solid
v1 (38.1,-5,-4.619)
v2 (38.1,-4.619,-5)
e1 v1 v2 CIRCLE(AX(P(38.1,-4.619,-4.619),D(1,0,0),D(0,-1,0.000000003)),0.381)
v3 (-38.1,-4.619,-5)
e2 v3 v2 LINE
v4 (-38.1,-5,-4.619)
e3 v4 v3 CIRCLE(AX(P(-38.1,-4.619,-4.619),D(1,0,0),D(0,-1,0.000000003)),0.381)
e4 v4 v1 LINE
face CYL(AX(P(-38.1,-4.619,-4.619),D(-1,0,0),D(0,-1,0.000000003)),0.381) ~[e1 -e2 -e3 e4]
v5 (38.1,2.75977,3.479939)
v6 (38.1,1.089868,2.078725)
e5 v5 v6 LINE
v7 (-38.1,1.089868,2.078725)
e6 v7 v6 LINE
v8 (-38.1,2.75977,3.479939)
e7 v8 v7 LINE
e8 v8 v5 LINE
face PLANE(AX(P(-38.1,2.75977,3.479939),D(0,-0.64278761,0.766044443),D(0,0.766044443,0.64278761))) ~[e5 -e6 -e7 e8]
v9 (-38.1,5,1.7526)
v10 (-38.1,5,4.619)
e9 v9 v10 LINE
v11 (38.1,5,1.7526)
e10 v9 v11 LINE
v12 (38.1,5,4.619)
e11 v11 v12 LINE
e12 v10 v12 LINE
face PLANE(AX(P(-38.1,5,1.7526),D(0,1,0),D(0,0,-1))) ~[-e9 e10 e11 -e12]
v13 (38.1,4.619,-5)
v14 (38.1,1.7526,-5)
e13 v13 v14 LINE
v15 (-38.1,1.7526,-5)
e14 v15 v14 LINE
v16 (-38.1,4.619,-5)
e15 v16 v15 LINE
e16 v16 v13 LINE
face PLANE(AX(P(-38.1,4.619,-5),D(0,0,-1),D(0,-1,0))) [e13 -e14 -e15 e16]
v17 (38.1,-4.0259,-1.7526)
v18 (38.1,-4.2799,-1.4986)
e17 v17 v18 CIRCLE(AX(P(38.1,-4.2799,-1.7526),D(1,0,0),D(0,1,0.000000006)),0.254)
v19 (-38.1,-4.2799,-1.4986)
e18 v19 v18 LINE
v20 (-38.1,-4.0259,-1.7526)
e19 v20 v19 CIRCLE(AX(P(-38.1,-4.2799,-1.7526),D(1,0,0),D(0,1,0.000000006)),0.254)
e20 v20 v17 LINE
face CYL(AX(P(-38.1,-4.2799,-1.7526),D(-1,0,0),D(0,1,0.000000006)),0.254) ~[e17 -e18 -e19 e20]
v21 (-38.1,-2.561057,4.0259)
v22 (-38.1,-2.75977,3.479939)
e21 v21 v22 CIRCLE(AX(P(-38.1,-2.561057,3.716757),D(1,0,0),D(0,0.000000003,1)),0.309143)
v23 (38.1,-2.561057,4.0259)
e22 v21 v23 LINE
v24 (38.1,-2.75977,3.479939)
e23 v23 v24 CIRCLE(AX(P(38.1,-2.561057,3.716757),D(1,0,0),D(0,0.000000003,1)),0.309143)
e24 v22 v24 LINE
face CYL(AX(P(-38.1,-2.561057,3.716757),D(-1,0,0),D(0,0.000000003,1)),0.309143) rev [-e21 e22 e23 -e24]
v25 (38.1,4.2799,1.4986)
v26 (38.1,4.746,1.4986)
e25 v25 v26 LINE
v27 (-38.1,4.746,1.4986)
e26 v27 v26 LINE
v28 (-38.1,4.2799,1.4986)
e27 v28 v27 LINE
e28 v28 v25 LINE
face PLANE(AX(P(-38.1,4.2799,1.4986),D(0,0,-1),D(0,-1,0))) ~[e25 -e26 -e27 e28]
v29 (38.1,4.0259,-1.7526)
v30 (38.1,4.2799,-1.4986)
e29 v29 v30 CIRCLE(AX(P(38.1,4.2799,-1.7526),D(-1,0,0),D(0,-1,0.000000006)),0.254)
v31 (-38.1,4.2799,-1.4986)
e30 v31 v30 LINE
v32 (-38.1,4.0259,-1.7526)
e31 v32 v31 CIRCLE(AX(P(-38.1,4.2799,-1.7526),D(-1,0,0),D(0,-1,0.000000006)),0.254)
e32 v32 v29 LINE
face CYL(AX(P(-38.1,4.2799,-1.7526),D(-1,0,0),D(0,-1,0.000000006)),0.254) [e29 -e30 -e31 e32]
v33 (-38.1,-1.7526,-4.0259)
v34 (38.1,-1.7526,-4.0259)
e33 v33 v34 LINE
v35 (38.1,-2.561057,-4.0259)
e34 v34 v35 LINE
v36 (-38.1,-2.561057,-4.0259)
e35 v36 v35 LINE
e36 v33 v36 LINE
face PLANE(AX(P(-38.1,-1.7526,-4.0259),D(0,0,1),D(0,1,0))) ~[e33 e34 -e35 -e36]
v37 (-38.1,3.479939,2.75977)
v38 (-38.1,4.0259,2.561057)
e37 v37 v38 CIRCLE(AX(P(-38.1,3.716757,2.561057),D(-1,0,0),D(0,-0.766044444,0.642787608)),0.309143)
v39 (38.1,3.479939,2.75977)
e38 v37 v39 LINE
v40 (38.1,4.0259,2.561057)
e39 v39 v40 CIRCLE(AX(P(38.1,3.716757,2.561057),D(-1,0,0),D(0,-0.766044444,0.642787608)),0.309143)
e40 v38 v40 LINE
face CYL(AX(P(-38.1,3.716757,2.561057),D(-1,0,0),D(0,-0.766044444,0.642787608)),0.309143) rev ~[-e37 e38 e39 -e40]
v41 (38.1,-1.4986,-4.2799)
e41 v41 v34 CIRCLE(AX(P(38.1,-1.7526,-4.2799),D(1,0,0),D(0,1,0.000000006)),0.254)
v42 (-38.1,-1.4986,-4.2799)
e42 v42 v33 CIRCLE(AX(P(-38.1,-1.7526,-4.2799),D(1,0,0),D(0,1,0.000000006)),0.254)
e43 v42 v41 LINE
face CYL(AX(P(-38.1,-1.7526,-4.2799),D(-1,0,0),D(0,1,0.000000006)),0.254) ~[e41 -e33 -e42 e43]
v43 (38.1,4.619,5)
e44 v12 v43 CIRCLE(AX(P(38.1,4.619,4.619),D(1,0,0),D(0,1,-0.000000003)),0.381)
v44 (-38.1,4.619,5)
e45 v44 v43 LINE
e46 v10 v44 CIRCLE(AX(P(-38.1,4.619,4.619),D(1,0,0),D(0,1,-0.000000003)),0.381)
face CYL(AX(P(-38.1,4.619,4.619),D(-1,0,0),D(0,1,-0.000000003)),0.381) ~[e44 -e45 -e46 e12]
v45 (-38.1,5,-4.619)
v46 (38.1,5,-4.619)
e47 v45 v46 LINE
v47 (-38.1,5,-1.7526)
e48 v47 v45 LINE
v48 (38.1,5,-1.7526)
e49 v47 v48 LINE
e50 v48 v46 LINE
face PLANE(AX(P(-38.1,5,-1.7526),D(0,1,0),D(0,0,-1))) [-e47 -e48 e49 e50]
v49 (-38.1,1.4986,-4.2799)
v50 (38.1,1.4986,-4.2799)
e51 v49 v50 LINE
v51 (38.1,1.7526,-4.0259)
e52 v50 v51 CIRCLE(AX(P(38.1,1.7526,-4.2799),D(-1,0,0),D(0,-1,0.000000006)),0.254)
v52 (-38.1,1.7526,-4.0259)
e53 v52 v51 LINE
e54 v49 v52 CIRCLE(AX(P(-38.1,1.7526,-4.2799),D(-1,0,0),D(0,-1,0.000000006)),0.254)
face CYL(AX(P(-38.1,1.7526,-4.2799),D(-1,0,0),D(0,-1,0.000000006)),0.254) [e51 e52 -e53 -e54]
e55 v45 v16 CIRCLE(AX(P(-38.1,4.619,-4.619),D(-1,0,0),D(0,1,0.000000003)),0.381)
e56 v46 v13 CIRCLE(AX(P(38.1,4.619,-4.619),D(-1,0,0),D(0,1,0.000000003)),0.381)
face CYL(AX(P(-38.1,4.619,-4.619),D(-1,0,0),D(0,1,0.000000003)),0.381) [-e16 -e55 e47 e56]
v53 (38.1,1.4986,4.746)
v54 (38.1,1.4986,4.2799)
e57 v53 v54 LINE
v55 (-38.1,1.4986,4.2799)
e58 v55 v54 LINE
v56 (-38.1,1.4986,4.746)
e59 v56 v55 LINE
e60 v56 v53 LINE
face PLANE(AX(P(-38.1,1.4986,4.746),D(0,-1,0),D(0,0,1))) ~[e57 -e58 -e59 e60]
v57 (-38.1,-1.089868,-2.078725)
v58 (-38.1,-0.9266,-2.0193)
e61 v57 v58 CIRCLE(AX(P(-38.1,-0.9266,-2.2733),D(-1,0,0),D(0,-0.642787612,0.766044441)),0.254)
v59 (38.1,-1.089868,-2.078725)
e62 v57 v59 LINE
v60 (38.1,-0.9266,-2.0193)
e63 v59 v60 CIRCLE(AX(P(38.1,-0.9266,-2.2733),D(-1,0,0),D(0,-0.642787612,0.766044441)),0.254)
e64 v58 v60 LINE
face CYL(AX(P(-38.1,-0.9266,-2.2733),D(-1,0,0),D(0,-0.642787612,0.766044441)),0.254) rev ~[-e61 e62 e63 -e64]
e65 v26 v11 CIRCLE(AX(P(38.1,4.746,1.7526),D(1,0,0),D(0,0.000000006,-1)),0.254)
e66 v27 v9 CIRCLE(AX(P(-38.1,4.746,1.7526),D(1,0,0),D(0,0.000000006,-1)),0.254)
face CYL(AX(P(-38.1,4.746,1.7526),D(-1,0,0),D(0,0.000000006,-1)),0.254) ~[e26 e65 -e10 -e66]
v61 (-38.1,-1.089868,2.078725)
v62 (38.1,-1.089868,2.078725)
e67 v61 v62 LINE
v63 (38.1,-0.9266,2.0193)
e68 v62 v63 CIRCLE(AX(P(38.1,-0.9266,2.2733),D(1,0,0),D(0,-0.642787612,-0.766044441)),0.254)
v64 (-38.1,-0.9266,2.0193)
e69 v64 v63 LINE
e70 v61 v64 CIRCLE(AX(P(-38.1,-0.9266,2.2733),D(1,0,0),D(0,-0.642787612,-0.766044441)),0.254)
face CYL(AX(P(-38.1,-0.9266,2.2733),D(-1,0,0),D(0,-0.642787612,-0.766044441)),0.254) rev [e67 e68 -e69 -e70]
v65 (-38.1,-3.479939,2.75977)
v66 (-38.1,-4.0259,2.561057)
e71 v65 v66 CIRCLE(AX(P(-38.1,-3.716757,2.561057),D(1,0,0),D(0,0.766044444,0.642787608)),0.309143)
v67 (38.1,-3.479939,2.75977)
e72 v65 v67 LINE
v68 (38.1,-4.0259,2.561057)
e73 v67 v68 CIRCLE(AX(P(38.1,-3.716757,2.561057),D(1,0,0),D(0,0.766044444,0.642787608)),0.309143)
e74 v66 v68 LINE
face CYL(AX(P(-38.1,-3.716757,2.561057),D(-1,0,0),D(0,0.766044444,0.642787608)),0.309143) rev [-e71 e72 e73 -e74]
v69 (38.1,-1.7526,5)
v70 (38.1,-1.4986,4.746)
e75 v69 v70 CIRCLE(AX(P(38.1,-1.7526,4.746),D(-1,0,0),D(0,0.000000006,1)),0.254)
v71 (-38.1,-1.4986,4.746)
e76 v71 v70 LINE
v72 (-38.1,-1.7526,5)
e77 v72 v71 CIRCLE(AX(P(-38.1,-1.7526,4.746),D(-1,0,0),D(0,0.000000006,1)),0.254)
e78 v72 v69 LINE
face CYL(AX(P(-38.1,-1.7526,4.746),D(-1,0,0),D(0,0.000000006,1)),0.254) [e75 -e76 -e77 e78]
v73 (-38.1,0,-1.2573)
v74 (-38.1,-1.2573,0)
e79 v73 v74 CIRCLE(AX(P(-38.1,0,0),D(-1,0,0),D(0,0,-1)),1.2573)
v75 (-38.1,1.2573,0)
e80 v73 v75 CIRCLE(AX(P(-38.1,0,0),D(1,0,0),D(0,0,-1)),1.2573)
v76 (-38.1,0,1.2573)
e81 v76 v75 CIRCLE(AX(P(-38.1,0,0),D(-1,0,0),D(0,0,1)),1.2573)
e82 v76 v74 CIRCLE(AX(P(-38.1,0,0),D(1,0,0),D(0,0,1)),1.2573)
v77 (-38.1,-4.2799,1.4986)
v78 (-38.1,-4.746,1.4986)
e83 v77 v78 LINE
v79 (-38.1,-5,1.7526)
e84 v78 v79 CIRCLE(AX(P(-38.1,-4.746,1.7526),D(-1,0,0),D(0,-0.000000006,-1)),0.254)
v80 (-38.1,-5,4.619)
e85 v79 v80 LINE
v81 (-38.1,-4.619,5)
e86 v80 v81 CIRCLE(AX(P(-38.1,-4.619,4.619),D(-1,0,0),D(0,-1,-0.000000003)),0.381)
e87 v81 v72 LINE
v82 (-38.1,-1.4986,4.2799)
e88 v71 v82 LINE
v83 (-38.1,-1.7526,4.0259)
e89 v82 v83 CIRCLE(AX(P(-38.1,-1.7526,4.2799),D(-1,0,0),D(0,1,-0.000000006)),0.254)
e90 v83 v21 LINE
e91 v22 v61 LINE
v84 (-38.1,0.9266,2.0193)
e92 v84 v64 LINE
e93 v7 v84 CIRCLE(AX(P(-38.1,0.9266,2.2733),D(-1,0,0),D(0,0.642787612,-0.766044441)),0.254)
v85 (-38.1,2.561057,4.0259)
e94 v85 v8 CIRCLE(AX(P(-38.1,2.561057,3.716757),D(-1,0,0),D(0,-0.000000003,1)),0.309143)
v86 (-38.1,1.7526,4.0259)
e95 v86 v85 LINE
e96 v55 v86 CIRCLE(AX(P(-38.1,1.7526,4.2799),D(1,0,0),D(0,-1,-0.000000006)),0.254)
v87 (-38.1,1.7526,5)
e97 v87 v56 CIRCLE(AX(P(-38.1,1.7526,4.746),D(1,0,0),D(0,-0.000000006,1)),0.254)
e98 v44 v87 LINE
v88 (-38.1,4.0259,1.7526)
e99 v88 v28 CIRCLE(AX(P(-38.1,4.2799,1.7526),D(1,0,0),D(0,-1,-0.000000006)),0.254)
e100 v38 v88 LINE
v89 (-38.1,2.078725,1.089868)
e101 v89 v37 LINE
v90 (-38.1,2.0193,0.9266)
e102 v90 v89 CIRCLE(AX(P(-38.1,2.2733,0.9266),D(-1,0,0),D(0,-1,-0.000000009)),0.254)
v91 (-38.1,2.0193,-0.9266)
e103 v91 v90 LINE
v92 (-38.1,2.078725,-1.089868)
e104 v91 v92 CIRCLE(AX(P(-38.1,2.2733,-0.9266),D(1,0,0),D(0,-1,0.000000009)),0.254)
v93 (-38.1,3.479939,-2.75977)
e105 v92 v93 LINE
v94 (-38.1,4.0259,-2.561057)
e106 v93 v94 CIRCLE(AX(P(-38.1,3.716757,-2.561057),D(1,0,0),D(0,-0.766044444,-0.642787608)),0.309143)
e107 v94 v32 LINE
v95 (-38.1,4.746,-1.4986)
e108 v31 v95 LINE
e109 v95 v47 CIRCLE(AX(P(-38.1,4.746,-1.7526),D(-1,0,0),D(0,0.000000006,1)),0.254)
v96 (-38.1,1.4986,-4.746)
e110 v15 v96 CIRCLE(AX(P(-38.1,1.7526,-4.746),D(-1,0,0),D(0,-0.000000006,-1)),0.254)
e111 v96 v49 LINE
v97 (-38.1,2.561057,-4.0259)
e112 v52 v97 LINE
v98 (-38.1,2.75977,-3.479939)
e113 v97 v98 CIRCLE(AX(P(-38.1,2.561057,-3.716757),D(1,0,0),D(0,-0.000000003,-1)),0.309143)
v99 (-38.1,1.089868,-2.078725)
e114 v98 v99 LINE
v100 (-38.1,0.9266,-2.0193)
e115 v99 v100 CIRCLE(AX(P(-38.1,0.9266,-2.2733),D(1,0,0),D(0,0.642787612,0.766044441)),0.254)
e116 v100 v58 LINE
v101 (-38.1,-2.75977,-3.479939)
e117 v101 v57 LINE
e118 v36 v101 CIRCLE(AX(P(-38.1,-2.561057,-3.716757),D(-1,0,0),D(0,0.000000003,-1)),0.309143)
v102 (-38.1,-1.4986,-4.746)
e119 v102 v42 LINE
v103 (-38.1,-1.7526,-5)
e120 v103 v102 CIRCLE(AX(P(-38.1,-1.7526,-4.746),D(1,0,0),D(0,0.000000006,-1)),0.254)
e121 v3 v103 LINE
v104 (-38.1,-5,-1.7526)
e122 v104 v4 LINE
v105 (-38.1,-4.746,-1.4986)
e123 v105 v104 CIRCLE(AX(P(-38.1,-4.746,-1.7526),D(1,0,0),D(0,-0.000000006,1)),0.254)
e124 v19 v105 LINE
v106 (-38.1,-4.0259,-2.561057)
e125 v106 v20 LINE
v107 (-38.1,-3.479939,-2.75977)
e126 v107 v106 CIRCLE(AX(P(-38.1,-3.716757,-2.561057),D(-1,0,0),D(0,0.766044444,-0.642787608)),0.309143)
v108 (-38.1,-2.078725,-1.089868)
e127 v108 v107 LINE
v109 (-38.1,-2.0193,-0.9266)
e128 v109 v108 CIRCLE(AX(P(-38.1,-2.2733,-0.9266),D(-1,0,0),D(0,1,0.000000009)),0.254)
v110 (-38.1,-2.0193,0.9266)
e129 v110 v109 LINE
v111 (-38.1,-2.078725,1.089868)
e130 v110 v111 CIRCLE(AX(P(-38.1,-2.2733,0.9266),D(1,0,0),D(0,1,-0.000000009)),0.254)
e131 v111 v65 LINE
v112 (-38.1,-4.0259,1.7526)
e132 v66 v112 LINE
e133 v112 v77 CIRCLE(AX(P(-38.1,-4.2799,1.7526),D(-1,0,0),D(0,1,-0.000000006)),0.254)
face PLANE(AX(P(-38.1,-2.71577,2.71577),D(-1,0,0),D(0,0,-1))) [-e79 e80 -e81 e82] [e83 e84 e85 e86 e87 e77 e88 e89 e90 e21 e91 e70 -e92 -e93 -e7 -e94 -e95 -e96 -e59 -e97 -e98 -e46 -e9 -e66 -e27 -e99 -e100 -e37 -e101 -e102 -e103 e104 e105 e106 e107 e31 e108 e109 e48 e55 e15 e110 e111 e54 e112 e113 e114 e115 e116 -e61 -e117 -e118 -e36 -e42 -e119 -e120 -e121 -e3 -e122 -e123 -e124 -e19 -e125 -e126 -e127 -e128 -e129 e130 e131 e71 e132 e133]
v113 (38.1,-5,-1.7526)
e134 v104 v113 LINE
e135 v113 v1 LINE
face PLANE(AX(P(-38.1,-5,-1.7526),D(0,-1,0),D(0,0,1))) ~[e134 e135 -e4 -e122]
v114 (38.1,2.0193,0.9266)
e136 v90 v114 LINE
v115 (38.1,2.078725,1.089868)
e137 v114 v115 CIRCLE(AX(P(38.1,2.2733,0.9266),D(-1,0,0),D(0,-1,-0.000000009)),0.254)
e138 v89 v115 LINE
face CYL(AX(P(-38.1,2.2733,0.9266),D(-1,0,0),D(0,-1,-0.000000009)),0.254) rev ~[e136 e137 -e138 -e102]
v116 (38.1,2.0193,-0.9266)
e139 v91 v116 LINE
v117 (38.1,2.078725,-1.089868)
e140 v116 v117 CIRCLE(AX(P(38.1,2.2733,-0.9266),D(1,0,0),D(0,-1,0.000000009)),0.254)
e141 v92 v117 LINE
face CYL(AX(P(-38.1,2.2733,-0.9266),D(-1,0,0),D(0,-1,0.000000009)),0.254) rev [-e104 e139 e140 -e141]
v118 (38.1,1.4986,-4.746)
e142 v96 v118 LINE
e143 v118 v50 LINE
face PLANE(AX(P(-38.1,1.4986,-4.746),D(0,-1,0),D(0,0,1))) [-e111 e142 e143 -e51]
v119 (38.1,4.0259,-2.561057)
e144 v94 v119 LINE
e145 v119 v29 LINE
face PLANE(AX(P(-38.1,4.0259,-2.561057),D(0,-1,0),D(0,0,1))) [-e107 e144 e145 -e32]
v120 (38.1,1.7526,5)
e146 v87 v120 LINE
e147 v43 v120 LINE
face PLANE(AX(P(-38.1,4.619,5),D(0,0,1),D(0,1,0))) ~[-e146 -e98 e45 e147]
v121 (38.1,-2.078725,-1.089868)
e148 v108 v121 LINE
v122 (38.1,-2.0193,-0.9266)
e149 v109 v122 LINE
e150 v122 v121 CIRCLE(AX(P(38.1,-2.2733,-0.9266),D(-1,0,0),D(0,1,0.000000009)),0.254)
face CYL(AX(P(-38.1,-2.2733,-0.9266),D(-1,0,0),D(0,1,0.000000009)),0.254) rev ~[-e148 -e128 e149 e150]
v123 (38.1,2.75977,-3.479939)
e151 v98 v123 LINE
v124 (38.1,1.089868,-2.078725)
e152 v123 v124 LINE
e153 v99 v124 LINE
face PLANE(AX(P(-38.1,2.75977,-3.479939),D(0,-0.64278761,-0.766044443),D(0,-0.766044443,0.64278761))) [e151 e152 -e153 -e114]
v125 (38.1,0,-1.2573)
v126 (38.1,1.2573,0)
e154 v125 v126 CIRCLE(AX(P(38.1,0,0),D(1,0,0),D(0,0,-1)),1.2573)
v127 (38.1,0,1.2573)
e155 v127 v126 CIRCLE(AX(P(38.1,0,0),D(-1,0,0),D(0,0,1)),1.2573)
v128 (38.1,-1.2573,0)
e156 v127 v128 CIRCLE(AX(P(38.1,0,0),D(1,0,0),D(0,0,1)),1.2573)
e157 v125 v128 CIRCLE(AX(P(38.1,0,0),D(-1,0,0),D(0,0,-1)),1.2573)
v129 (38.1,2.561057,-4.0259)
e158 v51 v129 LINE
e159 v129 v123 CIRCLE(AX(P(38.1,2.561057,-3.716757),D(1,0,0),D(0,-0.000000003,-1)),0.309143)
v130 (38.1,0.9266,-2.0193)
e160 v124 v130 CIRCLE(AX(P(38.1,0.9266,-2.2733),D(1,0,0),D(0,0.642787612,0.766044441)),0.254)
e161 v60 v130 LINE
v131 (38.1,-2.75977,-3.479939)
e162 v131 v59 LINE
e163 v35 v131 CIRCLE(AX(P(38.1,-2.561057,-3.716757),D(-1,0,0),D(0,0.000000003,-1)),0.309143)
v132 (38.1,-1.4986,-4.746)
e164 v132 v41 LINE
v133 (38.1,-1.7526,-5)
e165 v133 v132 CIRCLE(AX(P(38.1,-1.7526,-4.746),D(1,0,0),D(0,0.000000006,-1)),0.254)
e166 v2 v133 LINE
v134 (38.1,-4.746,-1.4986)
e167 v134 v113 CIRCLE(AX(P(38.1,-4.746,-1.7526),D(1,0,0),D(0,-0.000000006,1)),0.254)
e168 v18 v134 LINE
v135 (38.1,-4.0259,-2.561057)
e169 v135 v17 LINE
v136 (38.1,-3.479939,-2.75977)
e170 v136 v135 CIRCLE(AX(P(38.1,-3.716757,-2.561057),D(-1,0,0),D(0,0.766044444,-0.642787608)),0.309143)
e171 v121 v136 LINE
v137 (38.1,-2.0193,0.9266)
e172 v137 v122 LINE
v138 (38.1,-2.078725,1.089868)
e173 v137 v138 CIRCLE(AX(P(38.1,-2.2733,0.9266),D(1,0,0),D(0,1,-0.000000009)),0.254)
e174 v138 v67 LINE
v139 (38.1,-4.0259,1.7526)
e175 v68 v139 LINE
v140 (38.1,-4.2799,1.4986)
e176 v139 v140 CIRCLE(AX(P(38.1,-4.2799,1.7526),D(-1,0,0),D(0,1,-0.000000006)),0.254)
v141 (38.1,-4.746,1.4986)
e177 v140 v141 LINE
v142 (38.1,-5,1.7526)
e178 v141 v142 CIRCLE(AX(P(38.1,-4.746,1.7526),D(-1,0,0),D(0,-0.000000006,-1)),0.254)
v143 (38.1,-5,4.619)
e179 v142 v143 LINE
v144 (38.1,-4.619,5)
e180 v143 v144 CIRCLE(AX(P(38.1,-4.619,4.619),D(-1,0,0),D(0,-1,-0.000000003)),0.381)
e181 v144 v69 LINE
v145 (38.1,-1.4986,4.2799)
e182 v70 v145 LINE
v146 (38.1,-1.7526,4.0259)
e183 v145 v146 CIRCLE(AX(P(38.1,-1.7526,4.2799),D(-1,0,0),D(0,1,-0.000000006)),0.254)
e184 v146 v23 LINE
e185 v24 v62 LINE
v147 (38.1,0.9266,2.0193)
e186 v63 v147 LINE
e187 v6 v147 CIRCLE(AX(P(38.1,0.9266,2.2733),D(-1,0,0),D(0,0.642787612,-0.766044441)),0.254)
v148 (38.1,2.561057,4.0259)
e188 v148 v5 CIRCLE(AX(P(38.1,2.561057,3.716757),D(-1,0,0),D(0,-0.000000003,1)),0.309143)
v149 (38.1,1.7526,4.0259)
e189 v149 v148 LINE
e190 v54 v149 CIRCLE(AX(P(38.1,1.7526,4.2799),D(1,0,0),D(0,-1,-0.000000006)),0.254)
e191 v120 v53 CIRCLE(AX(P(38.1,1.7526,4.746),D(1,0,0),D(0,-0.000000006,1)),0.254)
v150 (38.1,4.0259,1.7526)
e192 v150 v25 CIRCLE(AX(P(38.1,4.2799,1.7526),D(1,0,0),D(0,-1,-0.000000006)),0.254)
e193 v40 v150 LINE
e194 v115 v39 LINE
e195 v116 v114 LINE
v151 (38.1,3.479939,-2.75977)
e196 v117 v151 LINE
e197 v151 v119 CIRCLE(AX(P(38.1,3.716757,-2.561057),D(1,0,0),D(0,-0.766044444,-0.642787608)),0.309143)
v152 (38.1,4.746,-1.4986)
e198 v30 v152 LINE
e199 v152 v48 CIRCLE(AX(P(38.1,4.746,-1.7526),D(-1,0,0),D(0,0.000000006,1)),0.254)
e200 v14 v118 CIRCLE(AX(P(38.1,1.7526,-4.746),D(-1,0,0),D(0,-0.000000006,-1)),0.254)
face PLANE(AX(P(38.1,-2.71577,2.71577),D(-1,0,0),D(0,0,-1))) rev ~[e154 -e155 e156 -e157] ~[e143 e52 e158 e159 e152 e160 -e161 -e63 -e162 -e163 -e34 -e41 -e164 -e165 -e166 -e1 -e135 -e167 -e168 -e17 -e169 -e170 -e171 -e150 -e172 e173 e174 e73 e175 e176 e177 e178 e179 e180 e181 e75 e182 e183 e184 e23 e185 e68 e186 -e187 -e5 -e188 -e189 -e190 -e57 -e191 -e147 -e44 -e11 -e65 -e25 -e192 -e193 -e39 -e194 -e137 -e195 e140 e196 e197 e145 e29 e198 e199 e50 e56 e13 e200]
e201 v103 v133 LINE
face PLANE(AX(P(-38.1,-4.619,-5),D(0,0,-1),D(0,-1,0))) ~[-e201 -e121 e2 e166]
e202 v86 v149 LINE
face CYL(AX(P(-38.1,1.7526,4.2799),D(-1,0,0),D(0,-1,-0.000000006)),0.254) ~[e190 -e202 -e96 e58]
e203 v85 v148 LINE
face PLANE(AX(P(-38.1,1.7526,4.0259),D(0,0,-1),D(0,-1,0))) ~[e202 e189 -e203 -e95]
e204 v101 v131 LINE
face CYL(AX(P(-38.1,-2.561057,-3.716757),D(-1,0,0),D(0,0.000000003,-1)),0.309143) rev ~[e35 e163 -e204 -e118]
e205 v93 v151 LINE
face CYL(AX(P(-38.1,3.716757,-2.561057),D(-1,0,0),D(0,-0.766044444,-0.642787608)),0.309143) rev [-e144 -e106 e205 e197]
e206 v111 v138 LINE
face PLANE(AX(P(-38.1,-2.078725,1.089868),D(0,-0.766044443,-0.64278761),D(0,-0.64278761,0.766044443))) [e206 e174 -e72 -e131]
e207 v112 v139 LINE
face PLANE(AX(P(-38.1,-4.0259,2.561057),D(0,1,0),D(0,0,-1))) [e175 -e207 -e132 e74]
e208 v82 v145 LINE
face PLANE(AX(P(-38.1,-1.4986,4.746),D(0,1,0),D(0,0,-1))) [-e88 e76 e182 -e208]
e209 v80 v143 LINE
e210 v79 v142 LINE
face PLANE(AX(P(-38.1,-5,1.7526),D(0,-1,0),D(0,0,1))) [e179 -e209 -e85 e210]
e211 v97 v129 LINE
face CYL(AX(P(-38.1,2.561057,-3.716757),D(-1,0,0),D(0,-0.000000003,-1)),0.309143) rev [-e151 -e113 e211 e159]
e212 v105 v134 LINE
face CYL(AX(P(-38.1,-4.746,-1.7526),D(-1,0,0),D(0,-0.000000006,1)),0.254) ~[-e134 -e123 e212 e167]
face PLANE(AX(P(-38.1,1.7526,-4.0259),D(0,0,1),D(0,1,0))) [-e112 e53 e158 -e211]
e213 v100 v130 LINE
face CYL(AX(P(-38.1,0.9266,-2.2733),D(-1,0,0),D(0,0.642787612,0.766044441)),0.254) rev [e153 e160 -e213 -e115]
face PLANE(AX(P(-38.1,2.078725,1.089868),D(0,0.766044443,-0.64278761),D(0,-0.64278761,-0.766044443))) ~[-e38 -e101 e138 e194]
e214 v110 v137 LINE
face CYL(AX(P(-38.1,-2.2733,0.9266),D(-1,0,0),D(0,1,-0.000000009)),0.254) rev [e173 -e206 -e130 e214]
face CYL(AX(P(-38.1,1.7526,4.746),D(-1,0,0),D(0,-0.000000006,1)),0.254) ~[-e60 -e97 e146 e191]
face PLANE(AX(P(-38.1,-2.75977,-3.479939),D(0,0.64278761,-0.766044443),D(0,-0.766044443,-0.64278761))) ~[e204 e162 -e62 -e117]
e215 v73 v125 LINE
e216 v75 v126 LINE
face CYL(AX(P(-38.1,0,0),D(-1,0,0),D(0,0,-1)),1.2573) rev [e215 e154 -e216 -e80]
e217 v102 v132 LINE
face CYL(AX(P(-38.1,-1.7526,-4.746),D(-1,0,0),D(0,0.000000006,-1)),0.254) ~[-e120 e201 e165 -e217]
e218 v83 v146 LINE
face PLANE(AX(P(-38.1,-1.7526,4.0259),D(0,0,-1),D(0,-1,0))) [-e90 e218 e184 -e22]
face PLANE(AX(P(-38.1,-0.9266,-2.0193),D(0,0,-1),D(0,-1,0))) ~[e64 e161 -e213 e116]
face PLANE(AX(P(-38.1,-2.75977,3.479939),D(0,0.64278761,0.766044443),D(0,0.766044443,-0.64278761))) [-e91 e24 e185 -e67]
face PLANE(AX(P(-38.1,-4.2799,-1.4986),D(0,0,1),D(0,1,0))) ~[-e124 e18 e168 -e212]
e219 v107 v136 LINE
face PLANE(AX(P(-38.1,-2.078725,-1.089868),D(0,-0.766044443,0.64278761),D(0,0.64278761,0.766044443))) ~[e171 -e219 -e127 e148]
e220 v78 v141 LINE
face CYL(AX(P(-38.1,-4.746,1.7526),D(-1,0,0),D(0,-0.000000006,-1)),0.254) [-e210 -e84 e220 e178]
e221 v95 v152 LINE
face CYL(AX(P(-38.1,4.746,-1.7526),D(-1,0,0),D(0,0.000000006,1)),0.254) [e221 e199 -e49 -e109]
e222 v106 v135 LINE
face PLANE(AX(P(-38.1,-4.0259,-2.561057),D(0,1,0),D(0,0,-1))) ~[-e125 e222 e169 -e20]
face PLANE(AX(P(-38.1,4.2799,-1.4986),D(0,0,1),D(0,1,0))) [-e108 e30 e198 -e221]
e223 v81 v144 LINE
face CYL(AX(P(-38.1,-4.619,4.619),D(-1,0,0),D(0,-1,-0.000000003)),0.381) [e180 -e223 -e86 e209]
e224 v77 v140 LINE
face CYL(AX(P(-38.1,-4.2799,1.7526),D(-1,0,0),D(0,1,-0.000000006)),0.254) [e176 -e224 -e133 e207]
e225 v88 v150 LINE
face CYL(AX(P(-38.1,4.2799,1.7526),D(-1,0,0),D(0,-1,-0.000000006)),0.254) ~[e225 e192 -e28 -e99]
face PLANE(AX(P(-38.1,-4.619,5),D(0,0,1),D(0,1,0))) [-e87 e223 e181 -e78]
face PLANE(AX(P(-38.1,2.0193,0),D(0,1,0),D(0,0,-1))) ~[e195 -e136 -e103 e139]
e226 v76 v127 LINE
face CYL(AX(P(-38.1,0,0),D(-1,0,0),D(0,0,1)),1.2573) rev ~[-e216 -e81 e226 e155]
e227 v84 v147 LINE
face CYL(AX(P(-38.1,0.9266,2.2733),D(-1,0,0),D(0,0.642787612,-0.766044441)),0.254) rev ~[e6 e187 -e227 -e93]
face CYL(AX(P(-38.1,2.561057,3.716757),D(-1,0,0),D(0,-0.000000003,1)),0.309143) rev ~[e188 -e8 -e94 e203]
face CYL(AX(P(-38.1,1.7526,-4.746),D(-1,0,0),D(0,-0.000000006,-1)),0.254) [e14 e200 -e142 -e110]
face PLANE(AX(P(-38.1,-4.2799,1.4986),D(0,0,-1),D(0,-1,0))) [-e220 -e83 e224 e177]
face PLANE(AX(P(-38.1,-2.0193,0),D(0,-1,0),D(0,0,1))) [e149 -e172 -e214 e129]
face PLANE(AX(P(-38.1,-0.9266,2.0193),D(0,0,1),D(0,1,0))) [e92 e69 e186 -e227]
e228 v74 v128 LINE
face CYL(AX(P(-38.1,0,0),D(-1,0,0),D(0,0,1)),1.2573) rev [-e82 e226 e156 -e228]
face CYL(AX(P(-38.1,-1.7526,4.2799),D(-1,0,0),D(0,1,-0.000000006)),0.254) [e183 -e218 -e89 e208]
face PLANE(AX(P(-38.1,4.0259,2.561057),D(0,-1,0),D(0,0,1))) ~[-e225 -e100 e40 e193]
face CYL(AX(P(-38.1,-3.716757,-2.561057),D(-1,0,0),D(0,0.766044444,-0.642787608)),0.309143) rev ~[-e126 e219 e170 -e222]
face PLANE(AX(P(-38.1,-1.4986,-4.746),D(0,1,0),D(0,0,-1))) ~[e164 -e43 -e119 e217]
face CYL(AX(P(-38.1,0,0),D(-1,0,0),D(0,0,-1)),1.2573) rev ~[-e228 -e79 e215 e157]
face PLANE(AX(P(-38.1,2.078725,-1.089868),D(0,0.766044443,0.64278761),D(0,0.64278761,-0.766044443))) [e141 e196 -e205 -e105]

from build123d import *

# Parameters (mm, degrees)
BOSS_EXTRUDE1_START = -38.1
BOSS_EXTRUDE1_DEPTH = 76.2


with BuildPart() as part:
    # Sketch4 → Boss-Extrude1 (new body)
    with BuildSketch(Plane(origin=(0, 0, 0), x_dir=(0, 0, -1), z_dir=(1, 0, 0)).offset(BOSS_EXTRUDE1_START)):
        with BuildLine():
            Line((0, 1.2573), (0, 2.0193))
            Line((0, 2.0193), (0.92659956, 2.0193))
            ThreePointArc((0.92659956, 2.0193), (1.013472677, 2.034618074), (1.089867613, 2.078724711))
            Line((1.089867613, 2.078724711), (2.759770219, 3.479939372))
            ThreePointArc((2.759770219, 3.479939372), (2.851556384, 3.822490003), (2.561056801, 4.0259))
            Line((2.561056801, 4.0259), (1.7526, 4.0259))
            ThreePointArc((1.7526, 4.0259), (1.572994878, 4.100294878), (1.4986, 4.2799))
            Line((1.4986, 4.2799), (1.4986, 4.746))
            ThreePointArc((1.4986, 4.746), (1.572994878, 4.925605122), (1.7526, 5))
            Line((1.7526, 5), (4.619, 5))
            ThreePointArc((4.619, 5), (4.888407684, 4.888407684), (5, 4.619))
            Line((5, 4.619), (5, 1.7526))
            ThreePointArc((5, 1.7526), (4.925605122, 1.572994878), (4.746, 1.4986))
            Line((4.746, 1.4986), (4.2799, 1.4986))
            ThreePointArc((4.2799, 1.4986), (4.100294878, 1.572994878), (4.0259, 1.7526))
            Line((4.0259, 1.7526), (4.0259, 2.561056801))
            ThreePointArc((4.0259, 2.561056801), (3.822490003, 2.851556384), (3.479939372, 2.759770219))
            Line((3.479939372, 2.759770219), (2.078724711, 1.089867613))
            ThreePointArc((2.078724711, 1.089867613), (2.034618074, 1.013472677), (2.0193, 0.92659956))
            Line((2.0193, 0.92659956), (2.0193, 0))
            Line((2.0193, 0), (1.2573, 0))
            ThreePointArc((1.2573, 0), (0.889045356, 0.889045356), (0, 1.2573))
        make_face()
    extrude(amount=BOSS_EXTRUDE1_DEPTH)

    # Mirror1: part across plane


with BuildPart() as part_1:
    add(part.part)
    add(part.part.mirror(Plane.ZX))

    # Mirror2: part across plane


with BuildPart() as part_2:
    add(part_1.part)
    add(part_1.part.mirror(Plane.XY))


solid = part_2.part
